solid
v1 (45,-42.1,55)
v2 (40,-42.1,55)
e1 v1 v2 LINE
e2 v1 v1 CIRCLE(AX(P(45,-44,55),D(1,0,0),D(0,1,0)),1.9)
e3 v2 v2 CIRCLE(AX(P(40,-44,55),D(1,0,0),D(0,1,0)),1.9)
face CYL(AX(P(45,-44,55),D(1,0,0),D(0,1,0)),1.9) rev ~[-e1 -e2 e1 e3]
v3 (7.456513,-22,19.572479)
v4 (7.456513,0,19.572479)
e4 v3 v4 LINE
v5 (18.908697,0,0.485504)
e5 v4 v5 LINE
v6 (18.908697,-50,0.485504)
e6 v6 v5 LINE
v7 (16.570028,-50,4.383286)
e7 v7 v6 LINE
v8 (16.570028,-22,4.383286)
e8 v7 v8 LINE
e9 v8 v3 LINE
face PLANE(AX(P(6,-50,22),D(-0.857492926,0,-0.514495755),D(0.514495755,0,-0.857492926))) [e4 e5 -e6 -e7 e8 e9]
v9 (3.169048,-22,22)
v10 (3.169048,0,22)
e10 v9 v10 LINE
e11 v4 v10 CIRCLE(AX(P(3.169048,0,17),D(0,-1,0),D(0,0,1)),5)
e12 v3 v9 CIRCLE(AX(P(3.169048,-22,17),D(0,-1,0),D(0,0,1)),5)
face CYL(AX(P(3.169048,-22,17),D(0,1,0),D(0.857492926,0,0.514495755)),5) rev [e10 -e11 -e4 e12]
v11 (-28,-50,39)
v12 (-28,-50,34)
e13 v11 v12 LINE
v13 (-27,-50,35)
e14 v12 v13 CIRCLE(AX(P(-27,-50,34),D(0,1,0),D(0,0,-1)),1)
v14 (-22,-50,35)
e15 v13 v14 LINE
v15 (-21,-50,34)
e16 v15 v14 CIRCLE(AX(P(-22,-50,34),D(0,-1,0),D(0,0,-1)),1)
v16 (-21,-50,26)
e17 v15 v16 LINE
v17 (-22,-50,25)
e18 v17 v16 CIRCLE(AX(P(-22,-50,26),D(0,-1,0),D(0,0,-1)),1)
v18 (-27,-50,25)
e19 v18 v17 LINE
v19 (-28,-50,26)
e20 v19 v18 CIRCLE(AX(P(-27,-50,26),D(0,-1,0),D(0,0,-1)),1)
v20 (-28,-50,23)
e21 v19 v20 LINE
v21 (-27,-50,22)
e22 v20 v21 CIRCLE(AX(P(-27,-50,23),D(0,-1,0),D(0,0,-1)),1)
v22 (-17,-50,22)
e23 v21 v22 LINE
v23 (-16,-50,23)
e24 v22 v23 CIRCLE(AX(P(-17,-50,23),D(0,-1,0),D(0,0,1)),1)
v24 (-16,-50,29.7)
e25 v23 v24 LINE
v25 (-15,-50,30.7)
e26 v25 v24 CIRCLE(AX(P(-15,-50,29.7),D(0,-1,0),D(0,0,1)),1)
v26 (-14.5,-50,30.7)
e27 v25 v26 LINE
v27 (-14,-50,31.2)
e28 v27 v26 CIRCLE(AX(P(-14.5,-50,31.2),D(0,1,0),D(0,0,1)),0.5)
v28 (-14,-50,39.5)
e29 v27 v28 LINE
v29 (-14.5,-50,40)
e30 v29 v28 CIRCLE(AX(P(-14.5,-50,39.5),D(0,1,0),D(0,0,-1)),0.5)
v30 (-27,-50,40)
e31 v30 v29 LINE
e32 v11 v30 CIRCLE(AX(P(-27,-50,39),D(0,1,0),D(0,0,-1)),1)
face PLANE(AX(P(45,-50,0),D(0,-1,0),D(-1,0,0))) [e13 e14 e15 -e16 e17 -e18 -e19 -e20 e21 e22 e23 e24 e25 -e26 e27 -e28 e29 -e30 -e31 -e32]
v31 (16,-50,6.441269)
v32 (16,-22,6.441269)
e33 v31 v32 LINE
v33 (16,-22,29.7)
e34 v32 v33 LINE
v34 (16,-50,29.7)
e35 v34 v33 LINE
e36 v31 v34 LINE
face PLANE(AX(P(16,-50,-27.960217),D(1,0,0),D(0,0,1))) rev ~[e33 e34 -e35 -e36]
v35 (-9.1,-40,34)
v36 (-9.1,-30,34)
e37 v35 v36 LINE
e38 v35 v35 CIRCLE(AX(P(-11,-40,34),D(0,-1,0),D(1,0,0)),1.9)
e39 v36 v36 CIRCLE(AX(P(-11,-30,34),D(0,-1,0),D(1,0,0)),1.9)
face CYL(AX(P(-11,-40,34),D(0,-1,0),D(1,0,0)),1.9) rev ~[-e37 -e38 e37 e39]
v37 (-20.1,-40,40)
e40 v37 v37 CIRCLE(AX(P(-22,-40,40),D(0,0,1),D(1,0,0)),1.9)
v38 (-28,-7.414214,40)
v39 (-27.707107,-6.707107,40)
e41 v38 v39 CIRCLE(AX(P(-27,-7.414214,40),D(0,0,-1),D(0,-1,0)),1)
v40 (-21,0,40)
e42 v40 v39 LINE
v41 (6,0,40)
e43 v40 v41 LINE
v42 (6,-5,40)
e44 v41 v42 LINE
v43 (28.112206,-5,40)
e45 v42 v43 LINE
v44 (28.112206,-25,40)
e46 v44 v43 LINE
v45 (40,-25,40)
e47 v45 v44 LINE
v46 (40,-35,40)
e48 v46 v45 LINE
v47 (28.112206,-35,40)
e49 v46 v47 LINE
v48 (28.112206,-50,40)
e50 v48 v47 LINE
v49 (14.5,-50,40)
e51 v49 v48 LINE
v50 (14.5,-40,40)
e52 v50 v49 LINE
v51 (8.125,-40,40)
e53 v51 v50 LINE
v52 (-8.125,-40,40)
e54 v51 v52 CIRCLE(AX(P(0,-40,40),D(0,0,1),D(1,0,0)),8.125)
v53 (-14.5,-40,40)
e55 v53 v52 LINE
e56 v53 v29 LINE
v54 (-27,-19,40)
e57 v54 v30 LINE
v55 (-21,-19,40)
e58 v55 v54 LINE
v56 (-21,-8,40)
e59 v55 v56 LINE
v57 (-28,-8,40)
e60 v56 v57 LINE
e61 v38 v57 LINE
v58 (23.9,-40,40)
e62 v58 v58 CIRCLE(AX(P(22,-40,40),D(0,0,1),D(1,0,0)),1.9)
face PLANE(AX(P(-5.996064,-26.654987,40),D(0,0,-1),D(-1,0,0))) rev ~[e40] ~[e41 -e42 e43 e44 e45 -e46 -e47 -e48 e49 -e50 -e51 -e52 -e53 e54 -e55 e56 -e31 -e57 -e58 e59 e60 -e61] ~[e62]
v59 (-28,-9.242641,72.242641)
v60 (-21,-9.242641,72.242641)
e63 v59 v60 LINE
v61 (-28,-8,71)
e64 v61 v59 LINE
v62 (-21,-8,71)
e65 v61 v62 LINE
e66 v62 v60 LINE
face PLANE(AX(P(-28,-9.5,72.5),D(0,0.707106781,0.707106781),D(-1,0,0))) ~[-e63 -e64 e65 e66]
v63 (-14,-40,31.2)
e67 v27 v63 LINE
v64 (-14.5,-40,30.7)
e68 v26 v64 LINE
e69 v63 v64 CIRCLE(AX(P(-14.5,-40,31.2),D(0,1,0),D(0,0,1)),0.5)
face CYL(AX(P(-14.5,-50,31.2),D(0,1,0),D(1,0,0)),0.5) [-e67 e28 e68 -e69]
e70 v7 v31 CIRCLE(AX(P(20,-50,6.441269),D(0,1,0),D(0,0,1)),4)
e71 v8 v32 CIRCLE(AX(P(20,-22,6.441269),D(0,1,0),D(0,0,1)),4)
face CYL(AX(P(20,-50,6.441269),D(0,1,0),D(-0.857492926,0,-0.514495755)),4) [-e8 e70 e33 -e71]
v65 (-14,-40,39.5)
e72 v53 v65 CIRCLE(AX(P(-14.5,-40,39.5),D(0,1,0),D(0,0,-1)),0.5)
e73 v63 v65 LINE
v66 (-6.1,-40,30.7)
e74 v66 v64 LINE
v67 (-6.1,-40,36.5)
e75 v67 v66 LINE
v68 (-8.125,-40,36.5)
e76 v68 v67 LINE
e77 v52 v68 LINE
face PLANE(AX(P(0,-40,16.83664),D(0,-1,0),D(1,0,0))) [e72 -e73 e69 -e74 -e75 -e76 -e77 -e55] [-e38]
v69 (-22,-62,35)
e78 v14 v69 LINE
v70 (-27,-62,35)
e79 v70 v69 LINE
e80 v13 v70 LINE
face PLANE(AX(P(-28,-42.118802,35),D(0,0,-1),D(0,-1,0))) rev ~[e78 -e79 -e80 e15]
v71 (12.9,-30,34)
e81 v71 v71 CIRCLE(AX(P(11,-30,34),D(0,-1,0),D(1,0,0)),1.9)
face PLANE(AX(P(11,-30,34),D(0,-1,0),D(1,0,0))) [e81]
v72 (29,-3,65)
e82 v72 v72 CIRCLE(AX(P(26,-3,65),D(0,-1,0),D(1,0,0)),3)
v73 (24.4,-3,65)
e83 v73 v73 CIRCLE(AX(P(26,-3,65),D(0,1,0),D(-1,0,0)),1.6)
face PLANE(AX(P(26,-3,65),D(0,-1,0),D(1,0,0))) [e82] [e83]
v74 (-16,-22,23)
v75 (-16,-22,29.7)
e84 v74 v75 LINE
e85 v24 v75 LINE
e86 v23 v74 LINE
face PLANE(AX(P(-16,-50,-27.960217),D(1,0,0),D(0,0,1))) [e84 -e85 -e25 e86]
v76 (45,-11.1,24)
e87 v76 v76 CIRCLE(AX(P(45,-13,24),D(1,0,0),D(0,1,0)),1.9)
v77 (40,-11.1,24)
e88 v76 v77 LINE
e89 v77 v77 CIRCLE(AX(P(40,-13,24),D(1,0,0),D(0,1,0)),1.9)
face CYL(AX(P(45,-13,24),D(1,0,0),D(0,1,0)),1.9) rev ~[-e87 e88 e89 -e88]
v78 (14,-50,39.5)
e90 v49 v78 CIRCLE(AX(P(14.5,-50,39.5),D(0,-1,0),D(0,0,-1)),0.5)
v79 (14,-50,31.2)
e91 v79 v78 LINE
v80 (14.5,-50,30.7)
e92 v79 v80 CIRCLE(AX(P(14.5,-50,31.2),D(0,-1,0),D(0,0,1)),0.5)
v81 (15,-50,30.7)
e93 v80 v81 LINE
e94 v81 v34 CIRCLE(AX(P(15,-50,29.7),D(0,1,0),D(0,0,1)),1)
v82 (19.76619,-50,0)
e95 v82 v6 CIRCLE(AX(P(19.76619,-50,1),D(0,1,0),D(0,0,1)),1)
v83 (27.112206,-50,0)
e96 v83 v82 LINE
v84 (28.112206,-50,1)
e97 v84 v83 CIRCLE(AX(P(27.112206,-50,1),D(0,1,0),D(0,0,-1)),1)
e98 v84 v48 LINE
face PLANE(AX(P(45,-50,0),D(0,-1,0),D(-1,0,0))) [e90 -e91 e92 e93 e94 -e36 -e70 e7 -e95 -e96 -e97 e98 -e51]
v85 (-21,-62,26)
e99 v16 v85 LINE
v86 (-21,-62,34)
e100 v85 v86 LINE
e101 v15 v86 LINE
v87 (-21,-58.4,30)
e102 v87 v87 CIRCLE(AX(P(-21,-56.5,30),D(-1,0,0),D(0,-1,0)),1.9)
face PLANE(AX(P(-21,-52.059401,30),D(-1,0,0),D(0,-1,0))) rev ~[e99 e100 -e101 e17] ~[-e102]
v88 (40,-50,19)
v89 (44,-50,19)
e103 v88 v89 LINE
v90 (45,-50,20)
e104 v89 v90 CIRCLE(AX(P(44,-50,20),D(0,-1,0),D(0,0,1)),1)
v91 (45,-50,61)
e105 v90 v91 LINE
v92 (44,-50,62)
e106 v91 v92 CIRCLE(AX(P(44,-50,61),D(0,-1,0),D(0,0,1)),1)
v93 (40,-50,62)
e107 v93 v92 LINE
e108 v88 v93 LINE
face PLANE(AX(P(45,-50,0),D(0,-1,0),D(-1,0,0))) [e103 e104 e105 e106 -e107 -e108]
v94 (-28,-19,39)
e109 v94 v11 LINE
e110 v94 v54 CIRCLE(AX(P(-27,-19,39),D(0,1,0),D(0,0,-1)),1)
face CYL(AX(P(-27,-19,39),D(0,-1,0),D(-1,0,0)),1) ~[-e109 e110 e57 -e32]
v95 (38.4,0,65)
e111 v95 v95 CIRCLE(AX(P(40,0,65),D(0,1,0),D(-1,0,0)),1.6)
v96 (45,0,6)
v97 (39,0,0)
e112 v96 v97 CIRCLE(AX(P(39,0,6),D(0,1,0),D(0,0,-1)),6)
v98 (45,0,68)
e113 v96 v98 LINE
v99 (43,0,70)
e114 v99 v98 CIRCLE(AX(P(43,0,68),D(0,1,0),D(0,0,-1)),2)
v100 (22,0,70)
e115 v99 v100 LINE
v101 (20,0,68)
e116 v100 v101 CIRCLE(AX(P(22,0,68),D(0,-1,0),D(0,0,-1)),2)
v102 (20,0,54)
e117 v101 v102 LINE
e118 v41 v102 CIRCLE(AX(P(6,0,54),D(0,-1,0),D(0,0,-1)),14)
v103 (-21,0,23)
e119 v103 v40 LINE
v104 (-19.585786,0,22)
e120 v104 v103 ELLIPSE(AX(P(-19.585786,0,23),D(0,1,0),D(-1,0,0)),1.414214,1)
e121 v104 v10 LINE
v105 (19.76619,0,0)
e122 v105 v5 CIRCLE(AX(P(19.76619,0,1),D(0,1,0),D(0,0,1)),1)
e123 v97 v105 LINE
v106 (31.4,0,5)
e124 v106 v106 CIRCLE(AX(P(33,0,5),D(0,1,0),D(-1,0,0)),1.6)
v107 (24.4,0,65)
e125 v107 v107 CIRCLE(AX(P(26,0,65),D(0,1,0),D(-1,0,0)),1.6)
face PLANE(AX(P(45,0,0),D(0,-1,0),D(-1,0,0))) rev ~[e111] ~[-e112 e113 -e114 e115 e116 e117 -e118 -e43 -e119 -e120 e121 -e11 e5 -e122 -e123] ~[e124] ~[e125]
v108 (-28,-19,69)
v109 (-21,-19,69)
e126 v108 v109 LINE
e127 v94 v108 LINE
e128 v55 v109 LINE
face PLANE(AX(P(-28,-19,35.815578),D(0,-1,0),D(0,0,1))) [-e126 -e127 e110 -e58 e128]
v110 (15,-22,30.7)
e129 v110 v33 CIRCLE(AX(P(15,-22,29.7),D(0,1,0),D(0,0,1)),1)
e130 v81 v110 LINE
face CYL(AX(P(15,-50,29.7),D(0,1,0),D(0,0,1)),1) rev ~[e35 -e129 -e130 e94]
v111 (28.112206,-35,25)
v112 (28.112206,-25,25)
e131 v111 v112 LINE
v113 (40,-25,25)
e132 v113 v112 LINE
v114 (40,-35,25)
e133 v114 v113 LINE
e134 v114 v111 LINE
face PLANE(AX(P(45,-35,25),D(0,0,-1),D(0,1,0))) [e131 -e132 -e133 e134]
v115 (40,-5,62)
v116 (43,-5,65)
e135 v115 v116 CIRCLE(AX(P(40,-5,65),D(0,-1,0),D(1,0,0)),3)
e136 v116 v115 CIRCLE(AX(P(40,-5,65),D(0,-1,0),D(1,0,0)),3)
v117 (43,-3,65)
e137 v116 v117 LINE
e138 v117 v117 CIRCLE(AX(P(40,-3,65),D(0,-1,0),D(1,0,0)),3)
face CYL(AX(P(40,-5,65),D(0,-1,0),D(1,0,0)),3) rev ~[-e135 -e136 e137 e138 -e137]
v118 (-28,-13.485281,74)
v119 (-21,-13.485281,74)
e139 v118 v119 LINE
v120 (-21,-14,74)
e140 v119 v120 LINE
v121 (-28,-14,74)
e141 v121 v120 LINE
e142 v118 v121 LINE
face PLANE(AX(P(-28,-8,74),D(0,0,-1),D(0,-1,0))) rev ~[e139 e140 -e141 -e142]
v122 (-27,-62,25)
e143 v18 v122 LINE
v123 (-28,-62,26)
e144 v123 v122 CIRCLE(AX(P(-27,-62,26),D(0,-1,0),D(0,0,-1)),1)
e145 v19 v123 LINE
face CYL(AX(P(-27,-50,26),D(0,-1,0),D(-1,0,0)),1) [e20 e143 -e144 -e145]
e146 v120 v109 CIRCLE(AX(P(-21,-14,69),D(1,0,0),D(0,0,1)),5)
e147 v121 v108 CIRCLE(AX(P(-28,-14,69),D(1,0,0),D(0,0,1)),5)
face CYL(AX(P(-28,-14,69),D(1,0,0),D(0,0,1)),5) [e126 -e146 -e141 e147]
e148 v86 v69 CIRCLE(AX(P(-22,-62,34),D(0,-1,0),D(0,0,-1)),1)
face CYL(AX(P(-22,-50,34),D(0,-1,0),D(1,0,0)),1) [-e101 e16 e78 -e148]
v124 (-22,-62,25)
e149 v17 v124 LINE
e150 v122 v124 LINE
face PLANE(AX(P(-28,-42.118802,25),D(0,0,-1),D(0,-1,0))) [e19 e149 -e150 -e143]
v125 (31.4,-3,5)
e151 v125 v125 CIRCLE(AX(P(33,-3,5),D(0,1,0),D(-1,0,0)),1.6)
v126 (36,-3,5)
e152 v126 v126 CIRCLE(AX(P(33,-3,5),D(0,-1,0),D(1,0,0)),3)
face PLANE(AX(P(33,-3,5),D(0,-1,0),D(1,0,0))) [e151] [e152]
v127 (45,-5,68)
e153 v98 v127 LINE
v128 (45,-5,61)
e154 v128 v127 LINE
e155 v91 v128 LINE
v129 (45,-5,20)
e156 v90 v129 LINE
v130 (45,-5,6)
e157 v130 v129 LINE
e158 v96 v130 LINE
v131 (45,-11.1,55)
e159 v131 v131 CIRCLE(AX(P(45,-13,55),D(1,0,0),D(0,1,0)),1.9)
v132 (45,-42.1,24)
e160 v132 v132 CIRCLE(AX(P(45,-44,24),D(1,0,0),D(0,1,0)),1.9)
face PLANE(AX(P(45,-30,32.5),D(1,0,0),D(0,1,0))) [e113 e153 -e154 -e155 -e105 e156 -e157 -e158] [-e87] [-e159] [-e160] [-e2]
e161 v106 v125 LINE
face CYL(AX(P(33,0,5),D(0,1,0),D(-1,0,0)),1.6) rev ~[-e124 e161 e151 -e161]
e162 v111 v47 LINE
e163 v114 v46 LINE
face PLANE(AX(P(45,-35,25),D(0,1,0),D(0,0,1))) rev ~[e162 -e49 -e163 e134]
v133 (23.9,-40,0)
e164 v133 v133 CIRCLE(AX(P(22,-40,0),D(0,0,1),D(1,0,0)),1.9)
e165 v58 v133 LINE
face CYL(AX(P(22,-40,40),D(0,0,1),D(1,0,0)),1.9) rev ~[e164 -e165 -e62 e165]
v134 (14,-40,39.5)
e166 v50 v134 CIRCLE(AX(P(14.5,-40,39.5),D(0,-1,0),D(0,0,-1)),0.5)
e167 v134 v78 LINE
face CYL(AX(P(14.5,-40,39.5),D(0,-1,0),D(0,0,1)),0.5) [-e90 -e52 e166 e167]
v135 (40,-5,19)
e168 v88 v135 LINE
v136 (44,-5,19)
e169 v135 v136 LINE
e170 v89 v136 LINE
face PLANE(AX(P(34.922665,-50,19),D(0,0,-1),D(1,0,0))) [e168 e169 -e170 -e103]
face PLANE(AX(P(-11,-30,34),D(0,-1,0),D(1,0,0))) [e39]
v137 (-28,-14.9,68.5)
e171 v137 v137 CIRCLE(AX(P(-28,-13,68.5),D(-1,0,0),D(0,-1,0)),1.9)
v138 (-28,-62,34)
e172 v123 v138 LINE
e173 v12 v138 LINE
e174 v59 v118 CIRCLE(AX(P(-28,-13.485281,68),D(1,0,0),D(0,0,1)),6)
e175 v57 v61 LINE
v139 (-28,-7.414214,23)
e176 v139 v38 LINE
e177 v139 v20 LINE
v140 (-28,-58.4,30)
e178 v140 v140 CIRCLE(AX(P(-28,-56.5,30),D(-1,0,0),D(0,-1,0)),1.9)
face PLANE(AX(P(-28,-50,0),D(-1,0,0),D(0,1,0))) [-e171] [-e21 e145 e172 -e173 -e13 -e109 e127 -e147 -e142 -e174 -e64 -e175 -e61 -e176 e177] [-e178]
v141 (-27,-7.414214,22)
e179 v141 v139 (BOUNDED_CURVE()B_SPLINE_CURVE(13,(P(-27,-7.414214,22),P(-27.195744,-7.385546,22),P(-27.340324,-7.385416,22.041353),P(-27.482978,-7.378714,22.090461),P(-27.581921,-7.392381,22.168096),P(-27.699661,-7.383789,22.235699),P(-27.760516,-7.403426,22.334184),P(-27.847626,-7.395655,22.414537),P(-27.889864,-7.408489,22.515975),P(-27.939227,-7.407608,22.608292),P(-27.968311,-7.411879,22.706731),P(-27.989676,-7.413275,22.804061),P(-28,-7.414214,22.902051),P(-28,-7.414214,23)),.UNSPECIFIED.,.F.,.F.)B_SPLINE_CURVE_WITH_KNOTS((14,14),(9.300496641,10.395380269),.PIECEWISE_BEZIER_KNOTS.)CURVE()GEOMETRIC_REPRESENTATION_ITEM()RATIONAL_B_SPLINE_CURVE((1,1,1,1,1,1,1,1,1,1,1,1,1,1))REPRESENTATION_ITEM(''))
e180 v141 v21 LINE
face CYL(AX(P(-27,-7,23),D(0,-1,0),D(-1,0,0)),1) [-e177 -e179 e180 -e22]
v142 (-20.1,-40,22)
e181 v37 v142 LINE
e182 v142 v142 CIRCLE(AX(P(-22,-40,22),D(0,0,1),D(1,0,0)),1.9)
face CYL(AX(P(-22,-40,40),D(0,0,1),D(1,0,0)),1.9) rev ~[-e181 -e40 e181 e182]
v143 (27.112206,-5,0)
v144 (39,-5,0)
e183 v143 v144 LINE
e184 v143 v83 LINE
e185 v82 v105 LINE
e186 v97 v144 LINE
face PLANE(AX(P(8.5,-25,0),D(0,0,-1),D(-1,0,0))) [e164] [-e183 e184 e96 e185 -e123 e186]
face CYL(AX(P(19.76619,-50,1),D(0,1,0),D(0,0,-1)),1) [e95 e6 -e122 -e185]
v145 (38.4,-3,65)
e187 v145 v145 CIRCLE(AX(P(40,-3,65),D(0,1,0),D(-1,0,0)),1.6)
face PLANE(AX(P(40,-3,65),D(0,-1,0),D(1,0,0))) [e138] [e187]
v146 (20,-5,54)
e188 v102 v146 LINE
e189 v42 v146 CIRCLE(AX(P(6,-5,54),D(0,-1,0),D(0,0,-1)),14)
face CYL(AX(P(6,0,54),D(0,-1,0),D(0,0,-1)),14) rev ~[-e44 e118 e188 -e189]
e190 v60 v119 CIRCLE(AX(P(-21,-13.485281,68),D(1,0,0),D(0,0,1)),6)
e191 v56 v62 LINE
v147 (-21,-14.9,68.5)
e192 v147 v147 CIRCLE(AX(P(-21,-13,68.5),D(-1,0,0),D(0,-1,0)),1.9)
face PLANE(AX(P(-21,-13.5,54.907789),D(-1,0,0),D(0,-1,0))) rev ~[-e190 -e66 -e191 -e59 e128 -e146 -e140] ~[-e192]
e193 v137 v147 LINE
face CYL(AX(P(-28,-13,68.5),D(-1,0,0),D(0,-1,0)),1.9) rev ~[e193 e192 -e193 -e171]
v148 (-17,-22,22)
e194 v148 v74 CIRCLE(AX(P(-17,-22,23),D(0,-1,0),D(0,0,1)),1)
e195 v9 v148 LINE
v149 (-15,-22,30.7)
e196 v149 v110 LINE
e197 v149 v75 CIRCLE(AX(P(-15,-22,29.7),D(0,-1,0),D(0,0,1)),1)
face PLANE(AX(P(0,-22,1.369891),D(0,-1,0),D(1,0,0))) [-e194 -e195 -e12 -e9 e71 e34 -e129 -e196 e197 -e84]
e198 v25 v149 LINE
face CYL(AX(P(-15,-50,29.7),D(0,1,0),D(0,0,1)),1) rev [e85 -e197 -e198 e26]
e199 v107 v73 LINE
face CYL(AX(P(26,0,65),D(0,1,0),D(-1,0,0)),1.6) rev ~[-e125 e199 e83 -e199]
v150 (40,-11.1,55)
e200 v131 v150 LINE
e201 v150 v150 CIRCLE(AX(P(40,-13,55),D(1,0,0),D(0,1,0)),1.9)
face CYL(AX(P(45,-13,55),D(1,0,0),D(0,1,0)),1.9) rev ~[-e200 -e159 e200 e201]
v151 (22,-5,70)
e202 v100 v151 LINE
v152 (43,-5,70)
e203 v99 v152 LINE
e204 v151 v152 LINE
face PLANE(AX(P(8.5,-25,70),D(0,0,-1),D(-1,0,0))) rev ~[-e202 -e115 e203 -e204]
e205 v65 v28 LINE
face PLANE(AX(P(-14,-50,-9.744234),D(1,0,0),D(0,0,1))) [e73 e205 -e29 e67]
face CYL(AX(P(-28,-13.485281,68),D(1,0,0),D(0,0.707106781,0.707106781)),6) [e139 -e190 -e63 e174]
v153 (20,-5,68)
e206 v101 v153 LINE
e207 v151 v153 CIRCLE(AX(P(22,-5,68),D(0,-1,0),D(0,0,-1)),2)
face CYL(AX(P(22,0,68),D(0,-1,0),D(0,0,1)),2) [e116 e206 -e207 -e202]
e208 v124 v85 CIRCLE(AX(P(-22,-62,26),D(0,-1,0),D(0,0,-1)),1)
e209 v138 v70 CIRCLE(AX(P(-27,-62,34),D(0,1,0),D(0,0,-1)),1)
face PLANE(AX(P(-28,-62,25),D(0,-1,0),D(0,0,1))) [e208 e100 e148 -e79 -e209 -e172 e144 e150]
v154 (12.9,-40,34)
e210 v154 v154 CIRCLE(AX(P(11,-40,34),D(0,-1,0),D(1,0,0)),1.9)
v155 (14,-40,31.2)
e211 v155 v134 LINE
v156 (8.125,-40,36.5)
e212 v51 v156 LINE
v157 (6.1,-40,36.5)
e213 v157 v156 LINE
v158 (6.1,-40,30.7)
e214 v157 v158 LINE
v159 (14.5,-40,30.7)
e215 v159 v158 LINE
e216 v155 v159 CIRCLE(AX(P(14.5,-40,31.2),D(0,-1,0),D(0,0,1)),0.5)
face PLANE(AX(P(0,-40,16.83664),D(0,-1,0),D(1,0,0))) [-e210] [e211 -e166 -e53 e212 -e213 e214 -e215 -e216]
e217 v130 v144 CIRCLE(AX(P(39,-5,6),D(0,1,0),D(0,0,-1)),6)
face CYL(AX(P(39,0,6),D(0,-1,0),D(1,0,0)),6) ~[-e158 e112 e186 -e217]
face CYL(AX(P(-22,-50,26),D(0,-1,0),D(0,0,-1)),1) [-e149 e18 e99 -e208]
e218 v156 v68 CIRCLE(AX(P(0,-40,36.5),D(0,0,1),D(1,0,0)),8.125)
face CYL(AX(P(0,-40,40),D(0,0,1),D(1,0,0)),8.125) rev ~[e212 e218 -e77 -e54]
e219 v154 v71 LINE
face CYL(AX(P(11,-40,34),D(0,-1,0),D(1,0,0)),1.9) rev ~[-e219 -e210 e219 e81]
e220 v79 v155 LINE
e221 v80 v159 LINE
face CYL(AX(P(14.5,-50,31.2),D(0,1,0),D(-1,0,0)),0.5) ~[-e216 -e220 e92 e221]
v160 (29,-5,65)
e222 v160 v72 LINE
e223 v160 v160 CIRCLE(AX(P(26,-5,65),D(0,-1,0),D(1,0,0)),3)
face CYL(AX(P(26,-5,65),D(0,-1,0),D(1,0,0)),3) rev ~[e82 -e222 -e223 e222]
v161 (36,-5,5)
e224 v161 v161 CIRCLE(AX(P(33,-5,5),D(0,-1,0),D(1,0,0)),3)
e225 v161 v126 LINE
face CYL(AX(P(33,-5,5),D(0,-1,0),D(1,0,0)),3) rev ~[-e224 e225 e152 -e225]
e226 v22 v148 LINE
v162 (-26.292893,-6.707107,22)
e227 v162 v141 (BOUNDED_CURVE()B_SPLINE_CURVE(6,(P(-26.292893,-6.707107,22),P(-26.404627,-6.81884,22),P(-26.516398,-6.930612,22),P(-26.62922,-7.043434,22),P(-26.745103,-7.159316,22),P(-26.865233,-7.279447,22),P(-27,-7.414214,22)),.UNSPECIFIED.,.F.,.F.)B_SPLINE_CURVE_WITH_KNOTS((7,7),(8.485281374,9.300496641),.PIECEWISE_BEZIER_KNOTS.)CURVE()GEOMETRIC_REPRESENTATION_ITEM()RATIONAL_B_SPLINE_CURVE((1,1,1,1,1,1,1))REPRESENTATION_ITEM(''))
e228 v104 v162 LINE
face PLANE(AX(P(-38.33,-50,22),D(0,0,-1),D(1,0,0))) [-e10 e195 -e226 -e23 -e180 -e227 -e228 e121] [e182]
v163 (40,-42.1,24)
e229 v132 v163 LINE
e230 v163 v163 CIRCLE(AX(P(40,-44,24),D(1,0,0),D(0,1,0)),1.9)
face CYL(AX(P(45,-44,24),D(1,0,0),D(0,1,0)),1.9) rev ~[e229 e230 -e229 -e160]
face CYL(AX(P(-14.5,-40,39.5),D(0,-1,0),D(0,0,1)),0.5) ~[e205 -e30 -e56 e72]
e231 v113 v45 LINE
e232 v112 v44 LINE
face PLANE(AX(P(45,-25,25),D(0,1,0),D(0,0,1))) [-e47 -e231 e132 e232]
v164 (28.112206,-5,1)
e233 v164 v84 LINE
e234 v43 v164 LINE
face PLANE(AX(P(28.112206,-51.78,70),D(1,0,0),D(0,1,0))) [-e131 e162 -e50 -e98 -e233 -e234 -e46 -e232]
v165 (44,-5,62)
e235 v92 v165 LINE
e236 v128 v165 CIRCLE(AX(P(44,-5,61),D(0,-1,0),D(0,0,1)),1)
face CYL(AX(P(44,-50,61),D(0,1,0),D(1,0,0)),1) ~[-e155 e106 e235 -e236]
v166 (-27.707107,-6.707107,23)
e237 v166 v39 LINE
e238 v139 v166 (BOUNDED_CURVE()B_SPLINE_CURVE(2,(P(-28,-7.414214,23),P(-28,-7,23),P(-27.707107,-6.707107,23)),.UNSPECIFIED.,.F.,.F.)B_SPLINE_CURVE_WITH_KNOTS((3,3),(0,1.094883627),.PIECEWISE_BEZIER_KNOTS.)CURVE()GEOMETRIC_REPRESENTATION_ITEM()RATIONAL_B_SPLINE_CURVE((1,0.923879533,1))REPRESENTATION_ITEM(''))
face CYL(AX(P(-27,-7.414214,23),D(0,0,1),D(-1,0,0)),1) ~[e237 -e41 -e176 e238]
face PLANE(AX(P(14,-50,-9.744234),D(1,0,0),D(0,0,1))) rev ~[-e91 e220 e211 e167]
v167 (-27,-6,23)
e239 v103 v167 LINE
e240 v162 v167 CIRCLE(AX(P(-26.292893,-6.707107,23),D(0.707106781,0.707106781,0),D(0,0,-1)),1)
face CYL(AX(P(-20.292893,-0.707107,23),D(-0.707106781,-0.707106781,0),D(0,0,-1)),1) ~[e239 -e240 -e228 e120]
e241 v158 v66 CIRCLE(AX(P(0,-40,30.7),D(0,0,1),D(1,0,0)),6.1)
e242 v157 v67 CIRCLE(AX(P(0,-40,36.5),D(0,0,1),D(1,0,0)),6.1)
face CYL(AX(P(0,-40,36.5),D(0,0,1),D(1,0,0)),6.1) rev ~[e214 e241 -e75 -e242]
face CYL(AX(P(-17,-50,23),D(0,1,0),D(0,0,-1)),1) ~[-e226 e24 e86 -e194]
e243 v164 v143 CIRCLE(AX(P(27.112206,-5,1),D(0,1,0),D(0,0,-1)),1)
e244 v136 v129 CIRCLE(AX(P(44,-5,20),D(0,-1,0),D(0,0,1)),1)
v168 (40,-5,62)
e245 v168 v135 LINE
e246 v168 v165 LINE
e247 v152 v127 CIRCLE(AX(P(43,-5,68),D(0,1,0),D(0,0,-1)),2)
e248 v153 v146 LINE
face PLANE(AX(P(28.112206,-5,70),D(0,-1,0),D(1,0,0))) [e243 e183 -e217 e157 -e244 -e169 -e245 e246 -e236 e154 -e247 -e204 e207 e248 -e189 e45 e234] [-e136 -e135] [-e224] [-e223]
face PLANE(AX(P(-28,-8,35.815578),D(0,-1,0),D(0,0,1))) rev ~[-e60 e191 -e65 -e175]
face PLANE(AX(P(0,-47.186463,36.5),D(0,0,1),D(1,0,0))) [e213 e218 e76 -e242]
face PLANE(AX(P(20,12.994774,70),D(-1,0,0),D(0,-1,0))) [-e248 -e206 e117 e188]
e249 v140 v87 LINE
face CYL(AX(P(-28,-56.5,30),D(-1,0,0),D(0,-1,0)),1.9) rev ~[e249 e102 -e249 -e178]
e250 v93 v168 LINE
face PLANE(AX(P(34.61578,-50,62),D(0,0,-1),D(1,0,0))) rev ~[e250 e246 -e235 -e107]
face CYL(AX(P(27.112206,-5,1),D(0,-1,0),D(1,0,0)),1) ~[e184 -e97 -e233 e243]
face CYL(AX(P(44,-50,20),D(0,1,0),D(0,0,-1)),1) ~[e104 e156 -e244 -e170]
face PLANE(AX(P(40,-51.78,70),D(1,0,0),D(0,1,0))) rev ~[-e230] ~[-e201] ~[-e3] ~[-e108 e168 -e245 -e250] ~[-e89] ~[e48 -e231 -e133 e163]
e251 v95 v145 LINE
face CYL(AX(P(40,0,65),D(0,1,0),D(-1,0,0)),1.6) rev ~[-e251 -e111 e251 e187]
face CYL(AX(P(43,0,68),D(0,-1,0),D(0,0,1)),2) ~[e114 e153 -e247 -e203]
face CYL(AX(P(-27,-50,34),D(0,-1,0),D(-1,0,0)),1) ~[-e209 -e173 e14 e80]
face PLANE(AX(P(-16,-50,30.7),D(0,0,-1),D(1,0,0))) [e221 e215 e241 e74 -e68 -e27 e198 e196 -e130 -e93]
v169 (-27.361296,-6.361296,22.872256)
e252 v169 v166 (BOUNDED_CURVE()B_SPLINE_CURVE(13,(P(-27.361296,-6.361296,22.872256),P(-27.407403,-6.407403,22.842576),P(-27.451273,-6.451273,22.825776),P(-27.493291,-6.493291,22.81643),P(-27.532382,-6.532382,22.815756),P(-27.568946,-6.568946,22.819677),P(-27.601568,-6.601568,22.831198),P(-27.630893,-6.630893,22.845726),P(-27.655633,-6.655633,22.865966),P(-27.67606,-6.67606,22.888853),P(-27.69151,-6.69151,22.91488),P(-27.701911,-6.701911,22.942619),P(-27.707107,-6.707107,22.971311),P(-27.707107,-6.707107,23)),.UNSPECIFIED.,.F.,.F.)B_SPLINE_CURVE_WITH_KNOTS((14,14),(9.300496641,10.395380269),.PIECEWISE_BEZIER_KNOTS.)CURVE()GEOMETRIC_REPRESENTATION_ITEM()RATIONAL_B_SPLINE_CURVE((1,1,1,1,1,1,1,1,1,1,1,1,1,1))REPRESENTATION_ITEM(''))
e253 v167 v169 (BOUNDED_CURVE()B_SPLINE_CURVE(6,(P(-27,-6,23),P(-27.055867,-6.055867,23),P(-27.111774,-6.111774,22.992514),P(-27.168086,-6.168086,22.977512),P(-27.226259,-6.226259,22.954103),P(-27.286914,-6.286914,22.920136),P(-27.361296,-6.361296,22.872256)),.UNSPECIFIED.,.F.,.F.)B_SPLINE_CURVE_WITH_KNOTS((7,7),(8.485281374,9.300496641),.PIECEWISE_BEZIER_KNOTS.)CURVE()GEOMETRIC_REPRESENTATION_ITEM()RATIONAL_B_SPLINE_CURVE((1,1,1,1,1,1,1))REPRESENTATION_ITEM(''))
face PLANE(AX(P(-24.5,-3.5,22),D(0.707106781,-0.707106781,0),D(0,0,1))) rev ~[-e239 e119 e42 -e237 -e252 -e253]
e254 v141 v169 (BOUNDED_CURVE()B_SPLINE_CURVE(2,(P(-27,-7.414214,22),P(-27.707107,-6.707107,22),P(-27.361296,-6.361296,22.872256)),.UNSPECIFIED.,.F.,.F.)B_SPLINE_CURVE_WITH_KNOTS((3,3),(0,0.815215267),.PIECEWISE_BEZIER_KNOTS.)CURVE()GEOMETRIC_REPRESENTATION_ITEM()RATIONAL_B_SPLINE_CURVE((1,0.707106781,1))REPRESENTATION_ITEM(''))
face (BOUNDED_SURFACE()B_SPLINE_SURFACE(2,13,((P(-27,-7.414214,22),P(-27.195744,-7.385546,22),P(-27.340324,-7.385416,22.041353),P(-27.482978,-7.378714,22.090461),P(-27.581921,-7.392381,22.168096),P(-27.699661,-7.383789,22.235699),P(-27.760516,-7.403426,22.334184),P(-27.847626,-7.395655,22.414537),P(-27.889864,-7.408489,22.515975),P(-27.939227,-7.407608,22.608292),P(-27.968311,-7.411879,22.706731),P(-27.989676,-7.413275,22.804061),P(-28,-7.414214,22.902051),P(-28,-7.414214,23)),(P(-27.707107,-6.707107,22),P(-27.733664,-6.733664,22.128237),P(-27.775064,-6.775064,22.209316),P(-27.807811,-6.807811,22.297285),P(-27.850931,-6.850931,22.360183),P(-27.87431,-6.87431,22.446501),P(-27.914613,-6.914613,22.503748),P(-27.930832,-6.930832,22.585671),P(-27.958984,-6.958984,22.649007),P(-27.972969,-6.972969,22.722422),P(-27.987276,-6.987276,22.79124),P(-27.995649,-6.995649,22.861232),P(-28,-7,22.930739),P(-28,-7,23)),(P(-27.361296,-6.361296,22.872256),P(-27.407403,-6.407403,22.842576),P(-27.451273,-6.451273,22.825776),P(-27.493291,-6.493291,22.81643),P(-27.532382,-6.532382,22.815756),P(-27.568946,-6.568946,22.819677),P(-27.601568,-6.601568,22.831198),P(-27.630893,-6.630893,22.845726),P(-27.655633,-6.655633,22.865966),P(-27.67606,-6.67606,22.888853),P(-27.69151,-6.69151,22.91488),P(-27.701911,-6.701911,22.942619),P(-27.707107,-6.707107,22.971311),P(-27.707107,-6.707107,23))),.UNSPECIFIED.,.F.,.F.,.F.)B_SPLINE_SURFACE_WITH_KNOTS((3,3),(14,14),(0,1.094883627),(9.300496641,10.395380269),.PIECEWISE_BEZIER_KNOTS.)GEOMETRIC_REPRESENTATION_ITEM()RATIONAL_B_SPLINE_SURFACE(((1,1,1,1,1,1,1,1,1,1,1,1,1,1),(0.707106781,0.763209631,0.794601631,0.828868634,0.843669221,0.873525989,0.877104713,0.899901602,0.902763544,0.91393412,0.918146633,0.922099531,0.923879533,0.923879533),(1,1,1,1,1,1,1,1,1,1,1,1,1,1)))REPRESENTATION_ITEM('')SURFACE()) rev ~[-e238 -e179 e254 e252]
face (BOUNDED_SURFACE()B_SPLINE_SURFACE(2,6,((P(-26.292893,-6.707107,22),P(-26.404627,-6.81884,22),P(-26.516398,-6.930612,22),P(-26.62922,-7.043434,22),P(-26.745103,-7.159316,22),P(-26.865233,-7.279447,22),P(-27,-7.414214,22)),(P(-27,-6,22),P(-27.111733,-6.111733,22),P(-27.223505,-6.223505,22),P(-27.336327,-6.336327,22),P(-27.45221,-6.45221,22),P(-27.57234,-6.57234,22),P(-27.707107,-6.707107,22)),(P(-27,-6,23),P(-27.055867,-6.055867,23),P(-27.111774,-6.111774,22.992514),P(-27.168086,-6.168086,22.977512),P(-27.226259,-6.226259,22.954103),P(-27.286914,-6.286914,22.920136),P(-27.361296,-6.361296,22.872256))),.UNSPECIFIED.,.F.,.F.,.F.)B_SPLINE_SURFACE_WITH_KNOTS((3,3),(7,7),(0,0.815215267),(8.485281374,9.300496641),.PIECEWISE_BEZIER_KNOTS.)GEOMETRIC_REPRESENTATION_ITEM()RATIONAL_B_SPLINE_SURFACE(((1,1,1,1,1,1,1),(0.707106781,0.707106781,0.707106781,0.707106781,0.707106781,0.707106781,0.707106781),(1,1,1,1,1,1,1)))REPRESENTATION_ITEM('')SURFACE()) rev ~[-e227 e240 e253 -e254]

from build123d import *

# Parameters (mm, degrees)
PAD_DEPTH       = 70
SKETCH001_W     = 11.887794
SKETCH001_H     = 46.78
POCKET_DEPTH    = 70.001
POCKET001_DEPTH = 30
SKETCH003_R     = 1.9
POCKET002_DEPTH = 40.001
POCKET003_DEPTH = 3.5
POCKET004_DEPTH = 9
SKETCH021_W     = 28
SKETCH021_H     = 53.161749
POCKET005_DEPTH = 10
SKETCH022_W     = 32
SKETCH022_H     = 58.660217
POCKET006_DEPTH = 28
POCKET007_DEPTH = 51
SKETCH008_W     = 19.05323
SKETCH008_H     = 10.69447
SKETCH008_W_2   = 35.750058
SKETCH008_H_2   = 36.172176
POCKET008_DEPTH = 45
SKETCH009_R     = 1.9
POCKET009_DEPTH = 5
SKETCH015_W     = 11
SKETCH015_H     = 38.184422
SKETCH015_W_2   = 19.881198
SKETCH015_H_2   = 10
PAD001_DEPTH    = 7
SKETCH011_R     = 1.9
POCKET010_DEPTH = 10
SKETCH014_W     = 10
SKETCH014_H     = 15
PAD002_DEPTH    = 18
SKETCH010_R     = 1.6
POCKET011_DEPTH = 6
SKETCH017_R     = 3
POCKET012_DEPTH = 2
SKETCH013_R     = 1.9
POCKET013_DEPTH = 10
CHAMFER_SIZE    = 7
CHAMFER001_SIZE = 3
FILLET_R        = 6
FILLET001_R     = 5
FILLET002_R     = 1
FILLET003_R     = 1
FILLET004_R     = 1
FILLET005_R     = 1
FILLET006_R     = 5
FILLET007_R     = 4
FILLET008_R     = 1
FILLET009_R     = 1
FILLET010_R     = 1
FILLET011_R     = 0.5
FILLET012_R     = 1
FILLET013_R     = 1
FILLET014_R     = 1
FILLET015_R     = 14
FILLET016_R     = 2
FILLET017_R     = 6
FILLET018_R     = 1


with BuildPart() as part:
    # Sketch → Pad (new body)
    with BuildSketch(Plane.XY):
        Polygon((0, 0), (45, 0), (45, -50), (-28, -50), (-28, 0), align=None)
    extrude(amount=PAD_DEPTH)

    # Sketch001 (on Face7 of Pad) → Pocket (cut, through all)
    with BuildSketch(Plane.XY.offset(70)):
        with Locations((34.056103, -28.39)):
            Rectangle(SKETCH001_W, SKETCH001_H)
    extrude(amount=-POCKET_DEPTH, mode=Mode.SUBTRACT)

    # Sketch002 (on Face5 of Pocket) → Pocket001 (cut)
    with BuildSketch(Plane.XY.offset(70)):
        Polygon((30, -5), (30, -65.096024), (-40.783405, -65.096024), (-40.783405, 12.994774), (20, 12.994774), (20, -5), align=None)
    extrude(amount=-POCKET001_DEPTH, mode=Mode.SUBTRACT)

    # Sketch003 (on Face6 of Pocket001) → Pocket002 (cut, through all)
    with BuildSketch(Plane.XY.offset(40)):
        with Locations((-22, -40)):
            Circle(SKETCH003_R)
        with Locations((22, -40)):
            Circle(SKETCH003_R)
    extrude(amount=-POCKET002_DEPTH, mode=Mode.SUBTRACT)

    # Sketch004 (on Face6 of Pocket002) → Pocket003 (cut)
    with BuildSketch(Plane.XY.offset(40)):
        with BuildLine():
            ThreePointArc((8.125, -40), (0, -31.875), (-8.125, -40))
            Line((-8.125, -59.24), (-8.125, -40))
            Line((8.125, -59.24), (-8.125, -59.24))
            Line((8.125, -40), (8.125, -59.24))
        make_face()
    extrude(amount=-POCKET003_DEPTH, mode=Mode.SUBTRACT)

    # Sketch018 → Pocket004 (cut)
    with BuildSketch(Plane.XY.offset(36.5)):
        with BuildLine():
            ThreePointArc((6.1, -40), (0, -33.9), (-6.1, -40))
            Line((-6.1, -40), (-6.1, -58.98))
            Line((6.1, -58.98), (-6.1, -58.98))
            Line((6.1, -40), (6.1, -58.98))
        make_face()
    extrude(amount=-POCKET004_DEPTH, mode=Mode.SUBTRACT)

    # Sketch021 (on Face9 of Pocket004) → Pocket005 (cut)
    with BuildSketch(Plane.XZ.offset(50)):
        with Locations((0, 16.83664)):
            Rectangle(SKETCH021_W, SKETCH021_H)
    extrude(amount=-POCKET005_DEPTH, mode=Mode.SUBTRACT)

    # Sketch022 (on Face13 of Pocket005) → Pocket006 (cut)
    with BuildSketch(Plane.XZ.offset(50)):
        with Locations((0, 1.369891)):
            Rectangle(SKETCH022_W, SKETCH022_H)
    extrude(amount=-POCKET006_DEPTH, mode=Mode.SUBTRACT)

    # Sketch023 (on Face9 of Pocket006) → Pocket007 (cut)
    with BuildSketch(Plane.XZ.offset(50)):
        Polygon((-38.33, 22), (6, 22), (24, -8), (-38.33, -8), align=None)
    extrude(amount=-POCKET007_DEPTH, mode=Mode.SUBTRACT)

    # Sketch008 (on Face14 of Pocket007) → Pocket008 (cut)
    with BuildSketch(Plane.XZ.offset(50)):
        with Locations((44.142395, 67.347235)):
            Rectangle(SKETCH008_W, SKETCH008_H)
        with Locations((52.797694, 0.913912)):
            Rectangle(SKETCH008_W_2, SKETCH008_H_2)
    extrude(amount=-POCKET008_DEPTH, mode=Mode.SUBTRACT)

    # Sketch009 (on Face3 of Pocket008) → Pocket009 (cut)
    with BuildSketch(Plane.YZ.offset(45)):
        with Locations((-44, 55)):
            Circle(SKETCH009_R)
        with Locations((-13, 24)):
            Circle(SKETCH009_R)
        with Locations((-13, 55)):
            Circle(SKETCH009_R)
        with Locations((-44, 24)):
            Circle(SKETCH009_R)
    extrude(amount=-POCKET009_DEPTH, mode=Mode.SUBTRACT)

    # Sketch015 (on Face27 of Pocket009) → Pad001 (join)
    with BuildSketch(Plane(origin=(-28, 0, 0), x_dir=(0, -1, 0), z_dir=(-1, 0, 0))):
        with Locations((13.5, 54.907789)):
            Rectangle(SKETCH015_W, SKETCH015_H)
        with Locations((52.059401, 30)):
            Rectangle(SKETCH015_W_2, SKETCH015_H_2)
    extrude(amount=-PAD001_DEPTH)

    # Sketch011 (on Face27 of Pad001) → Pocket010 (cut)
    with BuildSketch(Plane(origin=(-28, 0, 0), x_dir=(0, -1, 0), z_dir=(-1, 0, 0))):
        with Locations((56.5, 30)):
            Circle(SKETCH011_R)
        with Locations((13, 68.5)):
            Circle(SKETCH011_R)
    extrude(amount=-POCKET010_DEPTH, mode=Mode.SUBTRACT)

    # Sketch014 (on Face3 of Pocket010) → Pad002 (join)
    with BuildSketch(Plane.YZ.offset(45)):
        with Locations((-30, 32.5)):
            Rectangle(SKETCH014_W, SKETCH014_H)
    extrude(amount=-PAD002_DEPTH)

    # Sketch010 → Pocket011 (cut)
    with BuildSketch(Plane(origin=(0, 0, 0), x_dir=(-1, 0, 0), z_dir=(0, 1, 0))):
        with Locations((-33, 5)):
            Circle(SKETCH010_R)
        with Locations((-40, 65)):
            Circle(SKETCH010_R)
        with Locations((-26, 65)):
            Circle(SKETCH010_R)
    extrude(amount=-POCKET011_DEPTH, mode=Mode.SUBTRACT)

    # Sketch017 (on Face34 of Pocket011) → Pocket012 (cut)
    with BuildSketch(Plane.XZ.offset(5)):
        with Locations((26, 65)):
            Circle(SKETCH017_R)
        with Locations((33, 5)):
            Circle(SKETCH017_R)
        with Locations((40, 65)):
            Circle(SKETCH017_R)
    extrude(amount=-POCKET012_DEPTH, mode=Mode.SUBTRACT)

    # Sketch013 (on Face43 of Pocket012) → Pocket013 (cut)
    with BuildSketch(Plane.XZ.offset(40)):
        with Locations((-11, 34)):
            Circle(SKETCH013_R)
        with Locations((11, 34)):
            Circle(SKETCH013_R)
    extrude(amount=-POCKET013_DEPTH, mode=Mode.SUBTRACT)

    # Chamfer
    chamfer_edges = [part.edges().sort_by_distance(p)[0] for p in [
        (-28, 0, 31),
    ]]
    chamfer(chamfer_edges, length=CHAMFER_SIZE)

    # Chamfer001
    chamfer001_edges = [part.edges().sort_by_distance(p)[0] for p in [
        (-24.5, -8, 74),
    ]]
    chamfer(chamfer001_edges, length=CHAMFER001_SIZE)

    # Fillet
    fillet_edges = [part.edges().sort_by_distance(p)[0] for p in [
        (-24.5, -11, 74),
    ]]
    fillet(fillet_edges, radius=FILLET_R)

    # Fillet001
    fillet001_edges = [part.edges().sort_by_distance(p)[0] for p in [
        (-24.5, -19, 74),
    ]]
    fillet(fillet001_edges, radius=FILLET001_R)

    # Fillet002
    fillet002_edges = [part.edges().sort_by_distance(p)[0] for p in [
        (-28, -34.5, 40),
    ]]
    fillet(fillet002_edges, radius=FILLET002_R)

    # Fillet003
    fillet003_edges = [part.edges().sort_by_distance(p)[0] for p in [
        (-28, -28.5, 22),
    ]]
    fillet(fillet003_edges, radius=FILLET003_R)

    # Fillet004
    fillet004_edges = [part.edges().sort_by_distance(p)[0] for p in [
        (-16, -36, 22),
    ]]
    fillet(fillet004_edges, radius=FILLET004_R)

    # Fillet005
    fillet005_edges = [part.edges().sort_by_distance(p)[0] for p in [
        (19.2, -25, 0),
    ]]
    fillet(fillet005_edges, radius=FILLET005_R)

    # Fillet006
    fillet006_edges = [part.edges().sort_by_distance(p)[0] for p in [
        (6, -11, 22),
    ]]
    fillet(fillet006_edges, radius=FILLET006_R)

    # Fillet007
    fillet007_edges = [part.edges().sort_by_distance(p)[0] for p in [
        (16, -36, 5.333333),
    ]]
    fillet(fillet007_edges, radius=FILLET007_R)

    # Fillet008
    fillet008_edges = [part.edges().sort_by_distance(p)[0] for p in [
        (16, -36, 30.7),
    ]]
    fillet(fillet008_edges, radius=FILLET008_R)

    # Fillet009
    fillet009_edges = [part.edges().sort_by_distance(p)[0] for p in [
        (-16, -36, 30.7),
    ]]
    fillet(fillet009_edges, radius=FILLET009_R)

    # Fillet010
    fillet010_edges = [part.edges().sort_by_distance(p)[0] for p in [
        (-28, -56, 25),
        (-21, -56, 25),
        (-21, -56, 35),
        (-28, -56, 35),
    ]]
    fillet(fillet010_edges, radius=FILLET010_R)

    # Fillet011
    fillet011_edges = [part.edges().sort_by_distance(p)[0] for p in [
        (14, -45, 30.7),
        (-14, -45, 30.7),
        (14, -45, 40),
        (-14, -45, 40),
    ]]
    fillet(fillet011_edges, radius=FILLET011_R)

    # Fillet012
    fillet012_edges = [part.edges().sort_by_distance(p)[0] for p in [
        (28.112206, -27.5, 0),
    ]]
    fillet(fillet012_edges, radius=FILLET012_R)

    # Fillet013
    fillet013_edges = [part.edges().sort_by_distance(p)[0] for p in [
        (45, -27.5, 19),
    ]]
    fillet(fillet013_edges, radius=FILLET013_R)

    # Fillet014
    fillet014_edges = [part.edges().sort_by_distance(p)[0] for p in [
        (45, -27.5, 62),
    ]]
    fillet(fillet014_edges, radius=FILLET014_R)

    # Fillet015
    fillet015_edges = [part.edges().sort_by_distance(p)[0] for p in [
        (20, -2.5, 40),
    ]]
    fillet(fillet015_edges, radius=FILLET015_R)

    # Fillet016
    fillet016_edges = [part.edges().sort_by_distance(p)[0] for p in [
        (20, -2.5, 70),
        (45, -2.5, 70),
    ]]
    fillet(fillet016_edges, radius=FILLET016_R)

    # Fillet017
    fillet017_edges = [part.edges().sort_by_distance(p)[0] for p in [
        (45, -2.5, 0),
    ]]
    fillet(fillet017_edges, radius=FILLET017_R)

    # Fillet018
    fillet018_edges = [part.edges().sort_by_distance(p)[0] for p in [
        (-28, -7, 31.5),
    ]]
    fillet(fillet018_edges, radius=FILLET018_R)


solid = part.part
